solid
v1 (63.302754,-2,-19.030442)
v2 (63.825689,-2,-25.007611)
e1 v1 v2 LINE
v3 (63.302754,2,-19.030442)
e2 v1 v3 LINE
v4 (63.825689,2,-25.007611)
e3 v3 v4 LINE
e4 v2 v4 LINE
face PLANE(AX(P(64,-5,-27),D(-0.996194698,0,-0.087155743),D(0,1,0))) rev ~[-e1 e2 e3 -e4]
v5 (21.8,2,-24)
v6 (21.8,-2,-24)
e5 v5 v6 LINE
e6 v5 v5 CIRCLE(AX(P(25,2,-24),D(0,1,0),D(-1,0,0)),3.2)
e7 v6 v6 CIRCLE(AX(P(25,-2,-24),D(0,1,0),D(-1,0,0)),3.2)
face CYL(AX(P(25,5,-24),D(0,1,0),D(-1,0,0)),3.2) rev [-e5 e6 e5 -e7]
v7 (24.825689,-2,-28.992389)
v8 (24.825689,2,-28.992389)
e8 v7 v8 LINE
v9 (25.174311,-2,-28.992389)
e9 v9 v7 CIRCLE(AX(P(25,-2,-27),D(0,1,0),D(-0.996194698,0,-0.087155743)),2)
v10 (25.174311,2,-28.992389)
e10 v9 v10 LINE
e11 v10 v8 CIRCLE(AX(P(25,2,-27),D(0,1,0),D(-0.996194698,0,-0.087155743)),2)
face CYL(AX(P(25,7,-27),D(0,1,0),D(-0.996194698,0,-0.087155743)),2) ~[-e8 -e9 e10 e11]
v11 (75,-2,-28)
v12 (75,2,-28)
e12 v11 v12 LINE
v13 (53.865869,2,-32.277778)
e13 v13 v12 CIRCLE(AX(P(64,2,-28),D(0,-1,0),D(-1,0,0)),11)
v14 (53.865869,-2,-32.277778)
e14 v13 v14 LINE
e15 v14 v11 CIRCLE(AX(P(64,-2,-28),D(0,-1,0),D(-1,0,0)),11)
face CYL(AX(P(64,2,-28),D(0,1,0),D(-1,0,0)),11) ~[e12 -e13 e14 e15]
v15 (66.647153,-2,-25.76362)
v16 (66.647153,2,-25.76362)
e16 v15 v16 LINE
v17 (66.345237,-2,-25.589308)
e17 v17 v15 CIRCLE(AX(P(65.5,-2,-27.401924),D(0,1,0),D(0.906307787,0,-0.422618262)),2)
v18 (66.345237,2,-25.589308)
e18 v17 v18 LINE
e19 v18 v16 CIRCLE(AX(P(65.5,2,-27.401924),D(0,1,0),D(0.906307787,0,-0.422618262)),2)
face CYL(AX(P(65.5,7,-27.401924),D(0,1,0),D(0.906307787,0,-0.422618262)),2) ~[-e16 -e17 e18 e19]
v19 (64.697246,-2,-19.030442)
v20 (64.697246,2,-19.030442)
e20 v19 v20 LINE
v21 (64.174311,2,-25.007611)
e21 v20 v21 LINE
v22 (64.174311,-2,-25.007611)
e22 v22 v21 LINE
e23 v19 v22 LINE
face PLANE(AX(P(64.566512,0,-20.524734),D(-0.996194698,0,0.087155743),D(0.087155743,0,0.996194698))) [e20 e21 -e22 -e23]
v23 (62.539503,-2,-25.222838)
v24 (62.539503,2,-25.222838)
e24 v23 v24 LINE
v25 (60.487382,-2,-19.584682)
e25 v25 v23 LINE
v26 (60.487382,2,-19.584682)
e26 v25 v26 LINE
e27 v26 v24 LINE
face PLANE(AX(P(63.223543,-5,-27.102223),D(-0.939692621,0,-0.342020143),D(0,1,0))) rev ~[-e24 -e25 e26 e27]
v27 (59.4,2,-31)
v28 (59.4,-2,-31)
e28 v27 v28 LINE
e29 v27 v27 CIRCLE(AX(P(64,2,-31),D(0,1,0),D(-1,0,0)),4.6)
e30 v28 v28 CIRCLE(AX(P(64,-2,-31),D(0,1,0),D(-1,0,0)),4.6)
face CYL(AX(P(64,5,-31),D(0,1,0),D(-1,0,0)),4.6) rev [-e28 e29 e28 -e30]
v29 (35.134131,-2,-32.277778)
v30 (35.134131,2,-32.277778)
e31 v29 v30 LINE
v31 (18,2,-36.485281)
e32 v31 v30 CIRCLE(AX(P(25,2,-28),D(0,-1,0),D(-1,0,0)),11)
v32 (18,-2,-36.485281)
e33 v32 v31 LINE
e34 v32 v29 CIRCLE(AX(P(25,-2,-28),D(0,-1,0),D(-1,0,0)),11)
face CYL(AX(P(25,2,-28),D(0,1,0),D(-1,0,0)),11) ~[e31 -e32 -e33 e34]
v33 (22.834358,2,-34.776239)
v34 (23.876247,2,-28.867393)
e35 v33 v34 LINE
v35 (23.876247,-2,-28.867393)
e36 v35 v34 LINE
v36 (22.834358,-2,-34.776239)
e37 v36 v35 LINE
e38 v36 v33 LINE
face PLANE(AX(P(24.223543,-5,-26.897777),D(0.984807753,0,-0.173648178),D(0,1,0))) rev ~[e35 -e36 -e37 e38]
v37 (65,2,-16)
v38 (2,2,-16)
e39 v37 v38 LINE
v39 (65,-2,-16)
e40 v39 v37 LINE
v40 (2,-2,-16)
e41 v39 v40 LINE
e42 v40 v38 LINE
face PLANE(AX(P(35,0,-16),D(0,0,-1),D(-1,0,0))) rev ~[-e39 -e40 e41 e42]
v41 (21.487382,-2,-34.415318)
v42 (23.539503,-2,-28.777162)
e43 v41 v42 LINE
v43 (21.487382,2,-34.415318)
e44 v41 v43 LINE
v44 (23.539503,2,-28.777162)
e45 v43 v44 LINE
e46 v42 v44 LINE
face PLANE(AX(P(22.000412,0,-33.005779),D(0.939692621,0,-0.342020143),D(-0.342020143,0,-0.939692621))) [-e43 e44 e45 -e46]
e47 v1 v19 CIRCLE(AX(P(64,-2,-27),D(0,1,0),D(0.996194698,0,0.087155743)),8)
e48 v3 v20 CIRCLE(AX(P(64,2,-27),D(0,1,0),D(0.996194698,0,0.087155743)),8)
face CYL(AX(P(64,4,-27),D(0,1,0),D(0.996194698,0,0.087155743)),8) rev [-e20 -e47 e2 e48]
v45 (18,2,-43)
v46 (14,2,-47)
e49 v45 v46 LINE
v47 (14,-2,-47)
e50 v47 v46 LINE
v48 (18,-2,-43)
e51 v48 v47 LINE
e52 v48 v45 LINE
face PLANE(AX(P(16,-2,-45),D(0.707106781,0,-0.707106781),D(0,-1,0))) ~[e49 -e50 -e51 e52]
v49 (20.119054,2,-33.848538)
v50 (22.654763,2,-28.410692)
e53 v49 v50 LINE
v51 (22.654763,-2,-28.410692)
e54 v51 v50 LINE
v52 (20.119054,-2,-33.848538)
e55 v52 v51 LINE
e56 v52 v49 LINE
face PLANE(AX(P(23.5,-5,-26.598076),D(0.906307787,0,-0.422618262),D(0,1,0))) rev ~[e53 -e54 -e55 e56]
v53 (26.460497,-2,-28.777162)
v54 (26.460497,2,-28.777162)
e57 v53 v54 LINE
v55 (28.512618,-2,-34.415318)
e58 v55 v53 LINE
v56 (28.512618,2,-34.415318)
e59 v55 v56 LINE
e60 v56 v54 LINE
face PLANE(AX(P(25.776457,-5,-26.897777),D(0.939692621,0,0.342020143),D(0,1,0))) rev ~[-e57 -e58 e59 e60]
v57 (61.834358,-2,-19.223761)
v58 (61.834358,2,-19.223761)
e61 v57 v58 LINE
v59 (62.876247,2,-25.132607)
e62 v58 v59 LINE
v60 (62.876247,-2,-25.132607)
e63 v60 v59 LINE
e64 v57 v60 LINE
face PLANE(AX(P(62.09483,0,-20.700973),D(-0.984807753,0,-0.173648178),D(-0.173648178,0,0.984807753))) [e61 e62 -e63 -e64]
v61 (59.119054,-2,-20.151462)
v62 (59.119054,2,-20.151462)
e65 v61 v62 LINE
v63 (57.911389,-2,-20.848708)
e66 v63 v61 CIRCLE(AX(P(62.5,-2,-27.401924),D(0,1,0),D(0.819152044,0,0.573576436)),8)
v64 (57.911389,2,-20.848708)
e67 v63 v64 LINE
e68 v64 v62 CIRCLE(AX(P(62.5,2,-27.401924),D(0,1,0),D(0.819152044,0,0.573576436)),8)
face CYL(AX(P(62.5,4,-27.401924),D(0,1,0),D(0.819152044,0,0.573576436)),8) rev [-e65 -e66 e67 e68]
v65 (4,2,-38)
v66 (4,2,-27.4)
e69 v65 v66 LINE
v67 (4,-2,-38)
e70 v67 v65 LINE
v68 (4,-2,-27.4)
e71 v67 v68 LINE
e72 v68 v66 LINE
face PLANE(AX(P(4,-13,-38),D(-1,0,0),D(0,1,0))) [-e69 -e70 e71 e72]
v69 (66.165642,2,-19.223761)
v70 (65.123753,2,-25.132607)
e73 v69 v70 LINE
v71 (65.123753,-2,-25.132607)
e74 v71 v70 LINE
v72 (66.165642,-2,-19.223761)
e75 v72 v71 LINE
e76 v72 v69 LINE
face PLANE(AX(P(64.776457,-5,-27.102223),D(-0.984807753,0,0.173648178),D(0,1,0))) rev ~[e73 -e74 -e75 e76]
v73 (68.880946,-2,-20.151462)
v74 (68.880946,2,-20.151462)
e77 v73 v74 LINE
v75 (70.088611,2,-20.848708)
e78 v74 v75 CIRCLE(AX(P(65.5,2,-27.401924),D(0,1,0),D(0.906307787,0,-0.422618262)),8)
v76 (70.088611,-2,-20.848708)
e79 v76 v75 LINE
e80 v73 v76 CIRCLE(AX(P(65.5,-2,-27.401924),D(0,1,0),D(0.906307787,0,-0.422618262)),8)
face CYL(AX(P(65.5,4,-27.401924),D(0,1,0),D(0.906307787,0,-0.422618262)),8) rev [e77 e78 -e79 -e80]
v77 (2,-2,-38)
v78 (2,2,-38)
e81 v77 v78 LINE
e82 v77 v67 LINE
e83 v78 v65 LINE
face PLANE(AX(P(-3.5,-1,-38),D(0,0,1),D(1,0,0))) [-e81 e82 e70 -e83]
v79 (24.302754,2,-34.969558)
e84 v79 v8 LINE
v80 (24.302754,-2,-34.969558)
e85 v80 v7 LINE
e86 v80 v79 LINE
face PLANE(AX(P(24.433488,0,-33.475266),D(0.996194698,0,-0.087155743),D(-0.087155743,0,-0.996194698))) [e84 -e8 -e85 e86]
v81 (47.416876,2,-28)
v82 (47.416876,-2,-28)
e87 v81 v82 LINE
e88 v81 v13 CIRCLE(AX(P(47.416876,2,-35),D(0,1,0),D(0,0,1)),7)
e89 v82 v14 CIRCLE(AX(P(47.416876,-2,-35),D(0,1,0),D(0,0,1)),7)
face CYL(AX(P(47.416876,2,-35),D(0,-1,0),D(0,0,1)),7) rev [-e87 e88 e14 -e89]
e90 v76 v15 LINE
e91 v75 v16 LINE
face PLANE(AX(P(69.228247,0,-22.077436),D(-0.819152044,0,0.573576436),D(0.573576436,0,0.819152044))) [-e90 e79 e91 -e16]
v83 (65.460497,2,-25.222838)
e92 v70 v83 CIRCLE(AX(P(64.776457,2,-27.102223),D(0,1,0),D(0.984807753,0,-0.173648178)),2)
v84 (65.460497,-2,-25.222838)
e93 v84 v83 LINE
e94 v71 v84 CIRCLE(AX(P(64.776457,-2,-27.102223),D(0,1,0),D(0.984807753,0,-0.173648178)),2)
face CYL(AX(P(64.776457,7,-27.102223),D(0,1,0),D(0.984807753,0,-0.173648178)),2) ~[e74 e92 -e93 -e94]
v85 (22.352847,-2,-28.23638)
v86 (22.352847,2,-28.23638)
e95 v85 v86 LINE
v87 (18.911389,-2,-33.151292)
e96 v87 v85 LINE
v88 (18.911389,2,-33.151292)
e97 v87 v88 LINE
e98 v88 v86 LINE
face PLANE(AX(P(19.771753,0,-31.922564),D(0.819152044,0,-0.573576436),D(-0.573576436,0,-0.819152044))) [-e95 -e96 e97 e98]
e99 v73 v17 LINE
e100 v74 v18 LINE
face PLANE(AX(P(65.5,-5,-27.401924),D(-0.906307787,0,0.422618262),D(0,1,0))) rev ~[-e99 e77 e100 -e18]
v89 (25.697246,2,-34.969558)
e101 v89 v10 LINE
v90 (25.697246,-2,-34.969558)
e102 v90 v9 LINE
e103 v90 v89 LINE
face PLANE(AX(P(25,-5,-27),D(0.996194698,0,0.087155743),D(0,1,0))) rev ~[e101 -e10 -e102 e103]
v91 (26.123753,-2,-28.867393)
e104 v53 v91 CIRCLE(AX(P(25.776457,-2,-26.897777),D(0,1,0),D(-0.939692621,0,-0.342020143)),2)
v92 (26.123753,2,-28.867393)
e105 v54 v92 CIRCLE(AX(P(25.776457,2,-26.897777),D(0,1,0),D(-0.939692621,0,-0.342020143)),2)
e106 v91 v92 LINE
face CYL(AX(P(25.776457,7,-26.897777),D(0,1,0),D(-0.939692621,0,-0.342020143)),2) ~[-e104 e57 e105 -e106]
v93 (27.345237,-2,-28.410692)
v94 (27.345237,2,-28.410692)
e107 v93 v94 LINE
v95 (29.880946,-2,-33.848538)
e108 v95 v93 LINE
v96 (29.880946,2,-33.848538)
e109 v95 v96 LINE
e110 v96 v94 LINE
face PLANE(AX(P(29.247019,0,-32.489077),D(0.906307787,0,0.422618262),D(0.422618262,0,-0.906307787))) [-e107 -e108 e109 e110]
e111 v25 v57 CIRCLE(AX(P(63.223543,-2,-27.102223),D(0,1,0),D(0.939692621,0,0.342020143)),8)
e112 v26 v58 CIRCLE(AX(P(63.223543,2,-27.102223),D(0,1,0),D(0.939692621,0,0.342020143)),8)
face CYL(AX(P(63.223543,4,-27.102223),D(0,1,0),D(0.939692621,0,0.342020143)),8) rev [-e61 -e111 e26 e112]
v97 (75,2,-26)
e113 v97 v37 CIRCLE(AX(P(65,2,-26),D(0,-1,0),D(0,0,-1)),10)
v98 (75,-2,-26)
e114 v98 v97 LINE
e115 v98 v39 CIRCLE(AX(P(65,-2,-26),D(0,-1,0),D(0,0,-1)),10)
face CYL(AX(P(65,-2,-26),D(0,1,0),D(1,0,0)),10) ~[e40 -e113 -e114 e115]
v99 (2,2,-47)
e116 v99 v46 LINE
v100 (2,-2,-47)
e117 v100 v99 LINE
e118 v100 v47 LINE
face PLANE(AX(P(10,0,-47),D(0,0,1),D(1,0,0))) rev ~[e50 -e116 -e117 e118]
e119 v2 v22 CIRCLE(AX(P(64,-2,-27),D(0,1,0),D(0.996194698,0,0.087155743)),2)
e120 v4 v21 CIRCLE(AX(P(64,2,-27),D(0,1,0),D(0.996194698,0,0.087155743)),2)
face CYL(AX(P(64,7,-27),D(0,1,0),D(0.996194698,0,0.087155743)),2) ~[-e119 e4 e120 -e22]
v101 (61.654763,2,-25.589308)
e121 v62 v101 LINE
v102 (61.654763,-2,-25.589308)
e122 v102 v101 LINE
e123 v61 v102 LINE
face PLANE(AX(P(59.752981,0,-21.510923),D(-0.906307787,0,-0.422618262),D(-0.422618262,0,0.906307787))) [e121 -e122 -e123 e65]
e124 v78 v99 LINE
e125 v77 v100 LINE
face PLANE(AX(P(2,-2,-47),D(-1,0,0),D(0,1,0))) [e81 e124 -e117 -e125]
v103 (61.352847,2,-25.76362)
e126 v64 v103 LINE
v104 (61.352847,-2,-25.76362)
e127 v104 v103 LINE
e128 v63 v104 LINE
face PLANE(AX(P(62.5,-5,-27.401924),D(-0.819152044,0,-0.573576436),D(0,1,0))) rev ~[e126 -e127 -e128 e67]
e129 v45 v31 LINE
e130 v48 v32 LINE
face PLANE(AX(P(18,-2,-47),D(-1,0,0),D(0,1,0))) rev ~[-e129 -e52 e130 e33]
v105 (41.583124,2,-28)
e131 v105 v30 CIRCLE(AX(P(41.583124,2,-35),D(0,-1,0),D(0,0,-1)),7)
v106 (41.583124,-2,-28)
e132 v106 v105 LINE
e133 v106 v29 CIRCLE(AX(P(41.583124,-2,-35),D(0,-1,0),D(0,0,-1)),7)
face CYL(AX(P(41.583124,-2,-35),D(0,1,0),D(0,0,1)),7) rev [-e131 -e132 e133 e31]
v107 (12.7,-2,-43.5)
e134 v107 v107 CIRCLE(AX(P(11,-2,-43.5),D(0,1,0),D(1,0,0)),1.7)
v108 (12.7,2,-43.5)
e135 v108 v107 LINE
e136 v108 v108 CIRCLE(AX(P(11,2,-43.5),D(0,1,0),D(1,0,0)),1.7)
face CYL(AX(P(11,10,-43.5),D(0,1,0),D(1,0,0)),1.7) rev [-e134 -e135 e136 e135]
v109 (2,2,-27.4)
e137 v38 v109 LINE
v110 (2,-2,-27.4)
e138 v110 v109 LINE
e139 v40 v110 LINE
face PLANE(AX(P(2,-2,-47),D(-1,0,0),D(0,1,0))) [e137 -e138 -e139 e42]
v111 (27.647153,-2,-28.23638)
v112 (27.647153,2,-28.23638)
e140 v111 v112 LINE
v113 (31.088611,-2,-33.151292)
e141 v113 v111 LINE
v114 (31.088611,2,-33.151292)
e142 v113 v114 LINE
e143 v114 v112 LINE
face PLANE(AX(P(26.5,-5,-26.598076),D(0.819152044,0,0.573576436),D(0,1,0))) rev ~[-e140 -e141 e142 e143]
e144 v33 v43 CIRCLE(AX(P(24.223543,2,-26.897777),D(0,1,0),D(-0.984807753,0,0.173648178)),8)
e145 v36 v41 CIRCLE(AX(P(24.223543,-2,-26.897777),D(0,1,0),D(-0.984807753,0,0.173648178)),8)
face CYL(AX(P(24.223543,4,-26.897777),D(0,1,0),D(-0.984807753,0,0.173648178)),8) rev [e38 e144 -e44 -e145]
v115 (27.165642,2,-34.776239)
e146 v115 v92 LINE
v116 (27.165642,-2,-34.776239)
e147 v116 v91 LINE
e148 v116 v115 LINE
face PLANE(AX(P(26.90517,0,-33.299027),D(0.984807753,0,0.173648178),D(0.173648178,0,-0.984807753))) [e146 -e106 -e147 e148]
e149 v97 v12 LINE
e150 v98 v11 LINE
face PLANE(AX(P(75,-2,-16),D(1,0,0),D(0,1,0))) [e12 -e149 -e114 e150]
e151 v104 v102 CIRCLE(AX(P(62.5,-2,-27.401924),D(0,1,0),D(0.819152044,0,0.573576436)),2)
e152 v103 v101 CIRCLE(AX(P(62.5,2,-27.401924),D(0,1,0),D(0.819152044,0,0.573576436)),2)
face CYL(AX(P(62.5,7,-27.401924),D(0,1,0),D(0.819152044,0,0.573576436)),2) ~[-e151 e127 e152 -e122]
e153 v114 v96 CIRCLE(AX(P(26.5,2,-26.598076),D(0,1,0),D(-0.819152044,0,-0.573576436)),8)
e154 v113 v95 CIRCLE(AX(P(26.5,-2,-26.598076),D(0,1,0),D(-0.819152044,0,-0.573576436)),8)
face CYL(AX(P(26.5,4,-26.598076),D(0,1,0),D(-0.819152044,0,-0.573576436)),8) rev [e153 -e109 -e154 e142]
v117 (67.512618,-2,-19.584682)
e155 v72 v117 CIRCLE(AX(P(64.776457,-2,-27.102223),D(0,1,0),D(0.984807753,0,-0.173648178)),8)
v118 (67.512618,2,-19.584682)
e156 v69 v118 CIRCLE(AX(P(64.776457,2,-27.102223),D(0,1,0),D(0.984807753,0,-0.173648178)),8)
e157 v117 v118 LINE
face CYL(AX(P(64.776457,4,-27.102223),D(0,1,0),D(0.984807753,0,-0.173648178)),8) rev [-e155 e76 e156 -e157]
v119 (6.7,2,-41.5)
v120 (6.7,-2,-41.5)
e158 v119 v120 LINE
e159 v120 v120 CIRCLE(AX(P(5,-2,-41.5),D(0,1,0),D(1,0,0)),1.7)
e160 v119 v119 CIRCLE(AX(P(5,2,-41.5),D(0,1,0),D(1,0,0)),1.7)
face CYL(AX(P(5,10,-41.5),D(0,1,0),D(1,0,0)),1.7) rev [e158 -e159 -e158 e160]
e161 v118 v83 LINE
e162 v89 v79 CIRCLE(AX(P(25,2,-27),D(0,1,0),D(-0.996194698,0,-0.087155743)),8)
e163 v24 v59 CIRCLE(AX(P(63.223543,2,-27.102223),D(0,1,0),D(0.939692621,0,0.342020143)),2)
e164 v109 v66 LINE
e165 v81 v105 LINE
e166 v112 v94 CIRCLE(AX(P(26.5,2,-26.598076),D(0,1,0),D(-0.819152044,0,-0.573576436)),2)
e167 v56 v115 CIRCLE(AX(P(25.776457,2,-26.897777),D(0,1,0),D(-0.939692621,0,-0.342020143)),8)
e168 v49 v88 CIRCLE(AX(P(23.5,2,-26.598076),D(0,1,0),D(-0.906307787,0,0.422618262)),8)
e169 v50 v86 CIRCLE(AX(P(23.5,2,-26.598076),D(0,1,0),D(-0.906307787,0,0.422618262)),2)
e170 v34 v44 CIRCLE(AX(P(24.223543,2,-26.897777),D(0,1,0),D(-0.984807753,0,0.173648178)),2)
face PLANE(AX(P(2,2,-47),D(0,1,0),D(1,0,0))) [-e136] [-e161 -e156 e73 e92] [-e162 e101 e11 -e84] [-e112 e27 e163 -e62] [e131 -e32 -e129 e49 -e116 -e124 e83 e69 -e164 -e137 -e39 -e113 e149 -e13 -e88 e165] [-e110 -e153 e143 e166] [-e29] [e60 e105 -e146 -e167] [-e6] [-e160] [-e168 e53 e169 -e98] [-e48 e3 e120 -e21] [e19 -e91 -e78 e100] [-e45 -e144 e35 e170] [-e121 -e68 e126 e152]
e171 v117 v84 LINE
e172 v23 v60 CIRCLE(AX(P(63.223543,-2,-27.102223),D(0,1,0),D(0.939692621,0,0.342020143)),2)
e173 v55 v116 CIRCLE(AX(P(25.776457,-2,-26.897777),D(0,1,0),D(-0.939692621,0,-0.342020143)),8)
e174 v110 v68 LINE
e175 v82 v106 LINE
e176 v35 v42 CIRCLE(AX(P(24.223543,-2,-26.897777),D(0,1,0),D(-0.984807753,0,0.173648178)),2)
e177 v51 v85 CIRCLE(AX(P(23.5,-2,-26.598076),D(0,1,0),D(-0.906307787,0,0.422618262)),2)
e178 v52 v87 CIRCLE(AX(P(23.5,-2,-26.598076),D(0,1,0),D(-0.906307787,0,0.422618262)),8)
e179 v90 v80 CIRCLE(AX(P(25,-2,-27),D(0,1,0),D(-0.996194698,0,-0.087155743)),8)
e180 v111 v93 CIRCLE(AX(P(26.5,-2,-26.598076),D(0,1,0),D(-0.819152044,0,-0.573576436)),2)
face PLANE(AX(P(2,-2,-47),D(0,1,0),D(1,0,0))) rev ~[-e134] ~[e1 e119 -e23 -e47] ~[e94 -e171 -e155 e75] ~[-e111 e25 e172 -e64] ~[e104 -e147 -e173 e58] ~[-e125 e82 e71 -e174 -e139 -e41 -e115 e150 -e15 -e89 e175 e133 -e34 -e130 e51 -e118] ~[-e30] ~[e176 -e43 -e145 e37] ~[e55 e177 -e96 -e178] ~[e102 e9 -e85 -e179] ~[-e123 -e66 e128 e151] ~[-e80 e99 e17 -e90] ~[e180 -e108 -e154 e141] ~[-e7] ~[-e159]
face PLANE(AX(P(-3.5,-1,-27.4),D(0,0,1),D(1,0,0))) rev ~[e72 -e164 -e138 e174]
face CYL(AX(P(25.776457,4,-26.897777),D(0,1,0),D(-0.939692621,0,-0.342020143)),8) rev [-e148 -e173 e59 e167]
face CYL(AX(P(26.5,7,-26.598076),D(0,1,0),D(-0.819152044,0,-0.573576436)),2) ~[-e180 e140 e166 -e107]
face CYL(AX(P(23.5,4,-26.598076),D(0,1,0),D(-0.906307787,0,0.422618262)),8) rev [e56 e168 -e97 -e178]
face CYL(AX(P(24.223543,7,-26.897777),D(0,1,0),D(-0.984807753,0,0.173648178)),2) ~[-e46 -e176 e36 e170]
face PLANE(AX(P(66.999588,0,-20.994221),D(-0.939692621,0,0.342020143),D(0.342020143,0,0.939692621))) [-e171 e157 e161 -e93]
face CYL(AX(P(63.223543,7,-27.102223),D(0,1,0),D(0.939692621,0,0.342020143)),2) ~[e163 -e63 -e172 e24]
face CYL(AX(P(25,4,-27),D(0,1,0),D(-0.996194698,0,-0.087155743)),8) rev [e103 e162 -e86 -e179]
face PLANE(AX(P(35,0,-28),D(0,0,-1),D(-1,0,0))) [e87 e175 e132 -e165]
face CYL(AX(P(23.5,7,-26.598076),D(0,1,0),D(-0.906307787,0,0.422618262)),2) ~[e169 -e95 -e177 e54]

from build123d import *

# Parameters (mm, degrees)
BOX001027008_W            = 15
BOX001027008_H            = 24
BOX001027008_DEPTH        = 10.6
CYLINDER055_R             = 1.7
CYLINDER055_DEPTH         = 20
CYLINDER055_ROLL_ANGLE    = 90
CYLINDER054_R             = 1.7
CYLINDER054_DEPTH         = 20
CYLINDER054_ROLL_ANGLE    = 90
BOX001021_W               = 16
BOX001021_H               = 4
BOX001021_DEPTH           = 19
CHAMFER002_SIZE           = 4
BOX001023_W               = 14
BOX001023_H               = 9
BOX001023_DEPTH           = 22
BOX001015_W               = 13
BOX001015_H               = 10
BOX001015_DEPTH           = 2
BOX001015_PLACEMENT_ANGLE = 80
BOX001014_W               = 2
BOX001014_H               = 10
BOX001014_DEPTH           = 13
CYLINDER040_R             = 2
CYLINDER040_DEPTH         = 13
CYLINDER040_ROLL_ANGLE    = 90
CYLINDER041_R             = 8
CYLINDER041_DEPTH         = 8
CYLINDER041_ROLL_ANGLE    = 90
COMMON006_PLACEMENT_ANGLE = 25
COMMON005_PITCH_ANGLE     = -20
COMMON004_PITCH_ANGLE     = 10
COMMON007_PITCH_ANGLE     = -35
COMMON003_PITCH_ANGLE     = -5
FUSION061_PLACEMENT_ANGLE = 180
CYLINDER042_R             = 4.6
CYLINDER042_DEPTH         = 10
CYLINDER042_ROLL_ANGLE    = 90
CYLINDER039_R             = 3.2
CYLINDER039_DEPTH         = 10
CYLINDER039_ROLL_ANGLE    = 90
CYLINDER037_R             = 11
CYLINDER037_DEPTH         = 4
CYLINDER037_ROLL_ANGLE    = 90
CYLINDER038_R             = 11
CYLINDER038_DEPTH         = 4
CYLINDER038_ROLL_ANGLE    = 90
BOX001013_W               = 80
BOX001013_H               = 4
BOX001013_DEPTH           = 12
FILLET_R                  = 7
FILLET001_R               = 7
FILLET002_R               = 10
FILLET002_PLACEMENT_ANGLE = 180


with BuildPart() as cube028:
    # Box001027008 → Box001027008 (new body)
    with BuildSketch(Plane(origin=(-11, -13, -38), x_dir=(1, 0, 0), z_dir=(0, 0, 1))):
        with Locations((7.5, 12)):
            Rectangle(BOX001027008_W, BOX001027008_H)
    extrude(amount=BOX001027008_DEPTH)


with BuildPart() as cylinder055:
    # Cylinder055 → Cylinder055 (new body)
    with BuildSketch(Plane.XY):
        Circle(CYLINDER055_R)
    extrude(amount=CYLINDER055_DEPTH)


with BuildPart() as cylinder055_1:
    # Cylinder055 roll: moved
    add(cylinder055.part.rotate(Axis((0, 0, 0), (1, 0, 0)), CYLINDER055_ROLL_ANGLE))


with BuildPart() as cylinder055_2:
    # Cylinder055 placement: moved
    add(cylinder055_1.part.moved(Location((5, 10, -41.5))))


with BuildPart() as fusion075:
    # Cylinder054 → Cylinder054 (new body)
    with BuildSketch(Plane.XY):
        Circle(CYLINDER054_R)
    extrude(amount=CYLINDER054_DEPTH)


with BuildPart() as fusion075_1:
    # Cylinder054 roll: moved
    add(fusion075.part.rotate(Axis((0, 0, 0), (1, 0, 0)), CYLINDER054_ROLL_ANGLE))


with BuildPart() as fusion075_2:
    # Cylinder054 placement: moved
    add(fusion075_1.part.moved(Location((11, 10, -43.5))))

    # Fusion075: union Cylinder055
    add(cylinder055_2.part)


with BuildPart() as cut031:
    # Box001021 → Box001021 (new body)
    with BuildSketch(Plane(origin=(2, -2, -47), x_dir=(1, 0, 0), z_dir=(0, 0, 1))):
        with Locations((8, 2)):
            Rectangle(BOX001021_W, BOX001021_H)
    extrude(amount=BOX001021_DEPTH)

    # Chamfer002
    chamfer002_edges = [cut031.edges().sort_by_distance(p)[0] for p in [
        (18, 0, -47),
    ]]
    chamfer(chamfer002_edges, length=CHAMFER002_SIZE)

    # Cut031: cut Fusion075
    add(fusion075_2.part, mode=Mode.SUBTRACT)


with BuildPart() as cube021:
    # Box001023 → Box001023 (new body)
    with BuildSketch(Plane(origin=(-12, -4, -33), x_dir=(1, 0, 0), z_dir=(0, 0, 1))):
        with Locations((7, 4.5)):
            Rectangle(BOX001023_W, BOX001023_H)
    extrude(amount=BOX001023_DEPTH)


with BuildPart() as cube013:
    # Box001015 → Box001015 (new body)
    with BuildSketch(Plane.XY):
        with Locations((6.5, 5)):
            Rectangle(BOX001015_W, BOX001015_H)
    extrude(amount=BOX001015_DEPTH)


with BuildPart() as cube013_1:
    # Box001015 placement: moved
    add(cube013.part.moved(Location((0, -5, 0))).rotate(Axis((0, -5, 0), (0, -1, 0)), BOX001015_PLACEMENT_ANGLE))


with BuildPart() as common002:
    # Box001014 → Box001014 (new body)
    with BuildSketch(Plane(origin=(0, -5, 0), x_dir=(1, 0, 0), z_dir=(0, 0, 1))):
        with Locations((1, 5)):
            Rectangle(BOX001014_W, BOX001014_H)
    extrude(amount=BOX001014_DEPTH)

    # Common002: intersect Cube013
    add(cube013_1.part, mode=Mode.INTERSECT)


with BuildPart() as cylinder040:
    # Cylinder040 → Cylinder040 (new body)
    with BuildSketch(Plane.XY):
        Circle(CYLINDER040_R)
    extrude(amount=CYLINDER040_DEPTH)


with BuildPart() as cylinder040_1:
    # Cylinder040 roll: moved
    add(cylinder040.part.rotate(Axis((0, 0, 0), (1, 0, 0)), CYLINDER040_ROLL_ANGLE))


with BuildPart() as cylinder040_2:
    # Cylinder040 placement: moved
    add(cylinder040_1.part.moved(Location((0, 7, 0))))


with BuildPart() as cut010:
    # Cylinder041 → Cylinder041 (new body)
    with BuildSketch(Plane.XY):
        Circle(CYLINDER041_R)
    extrude(amount=CYLINDER041_DEPTH)


with BuildPart() as cut010_1:
    # Cylinder041 roll: moved
    add(cut010.part.rotate(Axis((0, 0, 0), (1, 0, 0)), CYLINDER041_ROLL_ANGLE))


with BuildPart() as cut010_2:
    # Cylinder041 placement: moved
    add(cut010_1.part.moved(Location((0, 4, 0))))

    # Cut010: cut Cylinder040
    add(cylinder040_2.part, mode=Mode.SUBTRACT)


with BuildPart() as common006:
    # Common006 base: copy of Cut010
    add(cut010_2.part)

    # Common006: intersect Common002
    add(common002.part, mode=Mode.INTERSECT)


with BuildPart() as common006_1:
    # Common006 placement: moved
    add(common006.part.moved(Location((51.5, 0, 10.598076))).rotate(Axis((51.5, 0, 10.598076), (0, 1, 0)), COMMON006_PLACEMENT_ANGLE))


with BuildPart() as common005:
    # Common005 base: copy of Cut010
    add(cut010_2.part)

    # Common005: intersect Common002
    add(common002.part, mode=Mode.INTERSECT)


with BuildPart() as common005_1:
    # Common005 pitch: moved
    add(common005.part.rotate(Axis((0, 0, 0), (0, 1, 0)), COMMON005_PITCH_ANGLE))


with BuildPart() as common005_2:
    # Common005 placement: moved
    add(common005_1.part.moved(Location((49.223543, 0, 10.897777))))


with BuildPart() as common004:
    # Common004 base: copy of Cut010
    add(cut010_2.part)

    # Common004: intersect Common002
    add(common002.part, mode=Mode.INTERSECT)


with BuildPart() as common004_1:
    # Common004 pitch: moved
    add(common004.part.rotate(Axis((0, 0, 0), (0, 1, 0)), COMMON004_PITCH_ANGLE))


with BuildPart() as common004_2:
    # Common004 placement: moved
    add(common004_1.part.moved(Location((50.776457, 0, 10.897777))))


with BuildPart() as common007:
    # Common007 base: copy of Cut010
    add(cut010_2.part)

    # Common007: intersect Common002
    add(common002.part, mode=Mode.INTERSECT)


with BuildPart() as common007_1:
    # Common007 pitch: moved
    add(common007.part.rotate(Axis((0, 0, 0), (0, 1, 0)), COMMON007_PITCH_ANGLE))


with BuildPart() as common007_2:
    # Common007 placement: moved
    add(common007_1.part.moved(Location((48.5, 0, 10.598076))))


with BuildPart() as common003:
    # Common003 base: copy of Cut010
    add(cut010_2.part)

    # Common003: intersect Common002
    add(common002.part, mode=Mode.INTERSECT)


with BuildPart() as common003_1:
    # Common003 pitch: moved
    add(common003.part.rotate(Axis((0, 0, 0), (0, 1, 0)), COMMON003_PITCH_ANGLE))


with BuildPart() as common003_2:
    # Common003 placement: moved
    add(common003_1.part.moved(Location((50, 0, 11))))


with BuildPart() as strength_slots001:
    # Fusion061 base: copy of Common003
    add(common003_2.part)

    # Fusion061: union Common006, Common005, Common004, Common007
    add(common006_1.part)
    add(common005_2.part)
    add(common004_2.part)
    add(common007_2.part)


with BuildPart() as strength_slots001_1:
    # Fusion061 placement: moved
    add(strength_slots001.part.moved(Location((61, 0, 22))).rotate(Axis((61, 0, 22), (0, 1, 0)), FUSION061_PLACEMENT_ANGLE))


with BuildPart() as cylinder042:
    # Cylinder042 → Cylinder042 (new body)
    with BuildSketch(Plane.XY):
        Circle(CYLINDER042_R)
    extrude(amount=CYLINDER042_DEPTH)


with BuildPart() as cylinder042_1:
    # Cylinder042 roll: moved
    add(cylinder042.part.rotate(Axis((0, 0, 0), (1, 0, 0)), CYLINDER042_ROLL_ANGLE))


with BuildPart() as cylinder042_2:
    # Cylinder042 placement: moved
    add(cylinder042_1.part.moved(Location((11, 5, 15))))


with BuildPart() as strength_slots:
    # Fusion060 base: copy of Common003
    add(common003_2.part)

    # Fusion060: union Common006, Common005, Common004, Common007
    add(common006_1.part)
    add(common005_2.part)
    add(common004_2.part)
    add(common007_2.part)


with BuildPart() as cylinder039:
    # Cylinder039 → Cylinder039 (new body)
    with BuildSketch(Plane.XY):
        Circle(CYLINDER039_R)
    extrude(amount=CYLINDER039_DEPTH)


with BuildPart() as cylinder039_1:
    # Cylinder039 roll: moved
    add(cylinder039.part.rotate(Axis((0, 0, 0), (1, 0, 0)), CYLINDER039_ROLL_ANGLE))


with BuildPart() as cylinder039_2:
    # Cylinder039 placement: moved
    add(cylinder039_1.part.moved(Location((50, 5, 8))))


with BuildPart() as cylinder037:
    # Cylinder037 → Cylinder037 (new body)
    with BuildSketch(Plane.XY):
        Circle(CYLINDER037_R)
    extrude(amount=CYLINDER037_DEPTH)


with BuildPart() as cylinder037_1:
    # Cylinder037 roll: moved
    add(cylinder037.part.rotate(Axis((0, 0, 0), (1, 0, 0)), CYLINDER037_ROLL_ANGLE))


with BuildPart() as cylinder037_2:
    # Cylinder037 placement: moved
    add(cylinder037_1.part.moved(Location((11, 2, 12))))


with BuildPart() as cylinder038:
    # Cylinder038 → Cylinder038 (new body)
    with BuildSketch(Plane.XY):
        Circle(CYLINDER038_R)
    extrude(amount=CYLINDER038_DEPTH)


with BuildPart() as cylinder038_1:
    # Cylinder038 roll: moved
    add(cylinder038.part.rotate(Axis((0, 0, 0), (1, 0, 0)), CYLINDER038_ROLL_ANGLE))


with BuildPart() as cylinder038_2:
    # Cylinder038 placement: moved
    add(cylinder038_1.part.moved(Location((50, 2, 12))))


with BuildPart() as cut_lever_x:
    # Box001013 → Box001013 (new body)
    with BuildSketch(Plane(origin=(0, -2, 0), x_dir=(1, 0, 0), z_dir=(0, 0, 1))):
        with Locations((40, 2)):
            Rectangle(BOX001013_W, BOX001013_H)
    extrude(amount=BOX001013_DEPTH)

    # Fusion059: union Cylinder037, Cylinder038
    add(cylinder037_2.part)
    add(cylinder038_2.part)

    # Fillet
    fillet_edges = [cut_lever_x.edges().sort_by_distance(p)[0] for p in [
        (22, 0, 12),
    ]]
    fillet(fillet_edges, radius=FILLET_R)

    # Fillet001
    fillet001_edges = [cut_lever_x.edges().sort_by_distance(p)[0] for p in [
        (39, 0, 12),
        (61, 0, 12),
    ]]
    fillet(fillet001_edges, radius=FILLET001_R)

    # Cut009: cut Cylinder039
    add(cylinder039_2.part, mode=Mode.SUBTRACT)

    # Cut011: cut strength-slots
    add(strength_slots.part, mode=Mode.SUBTRACT)

    # Cut012: cut Cylinder042
    add(cylinder042_2.part, mode=Mode.SUBTRACT)

    # Cut013: cut strength-slots001
    add(strength_slots001_1.part, mode=Mode.SUBTRACT)

    # Fillet002
    fillet002_edges = [cut_lever_x.edges().sort_by_distance(p)[0] for p in [
        (0, 0, 0),
    ]]
    fillet(fillet002_edges, radius=FILLET002_R)


with BuildPart() as cut_lever_x_1:
    # Fillet002 placement: moved
    add(cut_lever_x.part.moved(Location((75, 0, -16))).rotate(Axis((75, 0, -16), (0, 1, 0)), FILLET002_PLACEMENT_ANGLE))

    # Cut021: cut Cube021
    add(cube021.part, mode=Mode.SUBTRACT)

    # Fusion076: union Cut031
    add(cut031.part)

    # Cut039: cut Cube028
    add(cube028.part, mode=Mode.SUBTRACT)


solid = cut_lever_x_1.part
